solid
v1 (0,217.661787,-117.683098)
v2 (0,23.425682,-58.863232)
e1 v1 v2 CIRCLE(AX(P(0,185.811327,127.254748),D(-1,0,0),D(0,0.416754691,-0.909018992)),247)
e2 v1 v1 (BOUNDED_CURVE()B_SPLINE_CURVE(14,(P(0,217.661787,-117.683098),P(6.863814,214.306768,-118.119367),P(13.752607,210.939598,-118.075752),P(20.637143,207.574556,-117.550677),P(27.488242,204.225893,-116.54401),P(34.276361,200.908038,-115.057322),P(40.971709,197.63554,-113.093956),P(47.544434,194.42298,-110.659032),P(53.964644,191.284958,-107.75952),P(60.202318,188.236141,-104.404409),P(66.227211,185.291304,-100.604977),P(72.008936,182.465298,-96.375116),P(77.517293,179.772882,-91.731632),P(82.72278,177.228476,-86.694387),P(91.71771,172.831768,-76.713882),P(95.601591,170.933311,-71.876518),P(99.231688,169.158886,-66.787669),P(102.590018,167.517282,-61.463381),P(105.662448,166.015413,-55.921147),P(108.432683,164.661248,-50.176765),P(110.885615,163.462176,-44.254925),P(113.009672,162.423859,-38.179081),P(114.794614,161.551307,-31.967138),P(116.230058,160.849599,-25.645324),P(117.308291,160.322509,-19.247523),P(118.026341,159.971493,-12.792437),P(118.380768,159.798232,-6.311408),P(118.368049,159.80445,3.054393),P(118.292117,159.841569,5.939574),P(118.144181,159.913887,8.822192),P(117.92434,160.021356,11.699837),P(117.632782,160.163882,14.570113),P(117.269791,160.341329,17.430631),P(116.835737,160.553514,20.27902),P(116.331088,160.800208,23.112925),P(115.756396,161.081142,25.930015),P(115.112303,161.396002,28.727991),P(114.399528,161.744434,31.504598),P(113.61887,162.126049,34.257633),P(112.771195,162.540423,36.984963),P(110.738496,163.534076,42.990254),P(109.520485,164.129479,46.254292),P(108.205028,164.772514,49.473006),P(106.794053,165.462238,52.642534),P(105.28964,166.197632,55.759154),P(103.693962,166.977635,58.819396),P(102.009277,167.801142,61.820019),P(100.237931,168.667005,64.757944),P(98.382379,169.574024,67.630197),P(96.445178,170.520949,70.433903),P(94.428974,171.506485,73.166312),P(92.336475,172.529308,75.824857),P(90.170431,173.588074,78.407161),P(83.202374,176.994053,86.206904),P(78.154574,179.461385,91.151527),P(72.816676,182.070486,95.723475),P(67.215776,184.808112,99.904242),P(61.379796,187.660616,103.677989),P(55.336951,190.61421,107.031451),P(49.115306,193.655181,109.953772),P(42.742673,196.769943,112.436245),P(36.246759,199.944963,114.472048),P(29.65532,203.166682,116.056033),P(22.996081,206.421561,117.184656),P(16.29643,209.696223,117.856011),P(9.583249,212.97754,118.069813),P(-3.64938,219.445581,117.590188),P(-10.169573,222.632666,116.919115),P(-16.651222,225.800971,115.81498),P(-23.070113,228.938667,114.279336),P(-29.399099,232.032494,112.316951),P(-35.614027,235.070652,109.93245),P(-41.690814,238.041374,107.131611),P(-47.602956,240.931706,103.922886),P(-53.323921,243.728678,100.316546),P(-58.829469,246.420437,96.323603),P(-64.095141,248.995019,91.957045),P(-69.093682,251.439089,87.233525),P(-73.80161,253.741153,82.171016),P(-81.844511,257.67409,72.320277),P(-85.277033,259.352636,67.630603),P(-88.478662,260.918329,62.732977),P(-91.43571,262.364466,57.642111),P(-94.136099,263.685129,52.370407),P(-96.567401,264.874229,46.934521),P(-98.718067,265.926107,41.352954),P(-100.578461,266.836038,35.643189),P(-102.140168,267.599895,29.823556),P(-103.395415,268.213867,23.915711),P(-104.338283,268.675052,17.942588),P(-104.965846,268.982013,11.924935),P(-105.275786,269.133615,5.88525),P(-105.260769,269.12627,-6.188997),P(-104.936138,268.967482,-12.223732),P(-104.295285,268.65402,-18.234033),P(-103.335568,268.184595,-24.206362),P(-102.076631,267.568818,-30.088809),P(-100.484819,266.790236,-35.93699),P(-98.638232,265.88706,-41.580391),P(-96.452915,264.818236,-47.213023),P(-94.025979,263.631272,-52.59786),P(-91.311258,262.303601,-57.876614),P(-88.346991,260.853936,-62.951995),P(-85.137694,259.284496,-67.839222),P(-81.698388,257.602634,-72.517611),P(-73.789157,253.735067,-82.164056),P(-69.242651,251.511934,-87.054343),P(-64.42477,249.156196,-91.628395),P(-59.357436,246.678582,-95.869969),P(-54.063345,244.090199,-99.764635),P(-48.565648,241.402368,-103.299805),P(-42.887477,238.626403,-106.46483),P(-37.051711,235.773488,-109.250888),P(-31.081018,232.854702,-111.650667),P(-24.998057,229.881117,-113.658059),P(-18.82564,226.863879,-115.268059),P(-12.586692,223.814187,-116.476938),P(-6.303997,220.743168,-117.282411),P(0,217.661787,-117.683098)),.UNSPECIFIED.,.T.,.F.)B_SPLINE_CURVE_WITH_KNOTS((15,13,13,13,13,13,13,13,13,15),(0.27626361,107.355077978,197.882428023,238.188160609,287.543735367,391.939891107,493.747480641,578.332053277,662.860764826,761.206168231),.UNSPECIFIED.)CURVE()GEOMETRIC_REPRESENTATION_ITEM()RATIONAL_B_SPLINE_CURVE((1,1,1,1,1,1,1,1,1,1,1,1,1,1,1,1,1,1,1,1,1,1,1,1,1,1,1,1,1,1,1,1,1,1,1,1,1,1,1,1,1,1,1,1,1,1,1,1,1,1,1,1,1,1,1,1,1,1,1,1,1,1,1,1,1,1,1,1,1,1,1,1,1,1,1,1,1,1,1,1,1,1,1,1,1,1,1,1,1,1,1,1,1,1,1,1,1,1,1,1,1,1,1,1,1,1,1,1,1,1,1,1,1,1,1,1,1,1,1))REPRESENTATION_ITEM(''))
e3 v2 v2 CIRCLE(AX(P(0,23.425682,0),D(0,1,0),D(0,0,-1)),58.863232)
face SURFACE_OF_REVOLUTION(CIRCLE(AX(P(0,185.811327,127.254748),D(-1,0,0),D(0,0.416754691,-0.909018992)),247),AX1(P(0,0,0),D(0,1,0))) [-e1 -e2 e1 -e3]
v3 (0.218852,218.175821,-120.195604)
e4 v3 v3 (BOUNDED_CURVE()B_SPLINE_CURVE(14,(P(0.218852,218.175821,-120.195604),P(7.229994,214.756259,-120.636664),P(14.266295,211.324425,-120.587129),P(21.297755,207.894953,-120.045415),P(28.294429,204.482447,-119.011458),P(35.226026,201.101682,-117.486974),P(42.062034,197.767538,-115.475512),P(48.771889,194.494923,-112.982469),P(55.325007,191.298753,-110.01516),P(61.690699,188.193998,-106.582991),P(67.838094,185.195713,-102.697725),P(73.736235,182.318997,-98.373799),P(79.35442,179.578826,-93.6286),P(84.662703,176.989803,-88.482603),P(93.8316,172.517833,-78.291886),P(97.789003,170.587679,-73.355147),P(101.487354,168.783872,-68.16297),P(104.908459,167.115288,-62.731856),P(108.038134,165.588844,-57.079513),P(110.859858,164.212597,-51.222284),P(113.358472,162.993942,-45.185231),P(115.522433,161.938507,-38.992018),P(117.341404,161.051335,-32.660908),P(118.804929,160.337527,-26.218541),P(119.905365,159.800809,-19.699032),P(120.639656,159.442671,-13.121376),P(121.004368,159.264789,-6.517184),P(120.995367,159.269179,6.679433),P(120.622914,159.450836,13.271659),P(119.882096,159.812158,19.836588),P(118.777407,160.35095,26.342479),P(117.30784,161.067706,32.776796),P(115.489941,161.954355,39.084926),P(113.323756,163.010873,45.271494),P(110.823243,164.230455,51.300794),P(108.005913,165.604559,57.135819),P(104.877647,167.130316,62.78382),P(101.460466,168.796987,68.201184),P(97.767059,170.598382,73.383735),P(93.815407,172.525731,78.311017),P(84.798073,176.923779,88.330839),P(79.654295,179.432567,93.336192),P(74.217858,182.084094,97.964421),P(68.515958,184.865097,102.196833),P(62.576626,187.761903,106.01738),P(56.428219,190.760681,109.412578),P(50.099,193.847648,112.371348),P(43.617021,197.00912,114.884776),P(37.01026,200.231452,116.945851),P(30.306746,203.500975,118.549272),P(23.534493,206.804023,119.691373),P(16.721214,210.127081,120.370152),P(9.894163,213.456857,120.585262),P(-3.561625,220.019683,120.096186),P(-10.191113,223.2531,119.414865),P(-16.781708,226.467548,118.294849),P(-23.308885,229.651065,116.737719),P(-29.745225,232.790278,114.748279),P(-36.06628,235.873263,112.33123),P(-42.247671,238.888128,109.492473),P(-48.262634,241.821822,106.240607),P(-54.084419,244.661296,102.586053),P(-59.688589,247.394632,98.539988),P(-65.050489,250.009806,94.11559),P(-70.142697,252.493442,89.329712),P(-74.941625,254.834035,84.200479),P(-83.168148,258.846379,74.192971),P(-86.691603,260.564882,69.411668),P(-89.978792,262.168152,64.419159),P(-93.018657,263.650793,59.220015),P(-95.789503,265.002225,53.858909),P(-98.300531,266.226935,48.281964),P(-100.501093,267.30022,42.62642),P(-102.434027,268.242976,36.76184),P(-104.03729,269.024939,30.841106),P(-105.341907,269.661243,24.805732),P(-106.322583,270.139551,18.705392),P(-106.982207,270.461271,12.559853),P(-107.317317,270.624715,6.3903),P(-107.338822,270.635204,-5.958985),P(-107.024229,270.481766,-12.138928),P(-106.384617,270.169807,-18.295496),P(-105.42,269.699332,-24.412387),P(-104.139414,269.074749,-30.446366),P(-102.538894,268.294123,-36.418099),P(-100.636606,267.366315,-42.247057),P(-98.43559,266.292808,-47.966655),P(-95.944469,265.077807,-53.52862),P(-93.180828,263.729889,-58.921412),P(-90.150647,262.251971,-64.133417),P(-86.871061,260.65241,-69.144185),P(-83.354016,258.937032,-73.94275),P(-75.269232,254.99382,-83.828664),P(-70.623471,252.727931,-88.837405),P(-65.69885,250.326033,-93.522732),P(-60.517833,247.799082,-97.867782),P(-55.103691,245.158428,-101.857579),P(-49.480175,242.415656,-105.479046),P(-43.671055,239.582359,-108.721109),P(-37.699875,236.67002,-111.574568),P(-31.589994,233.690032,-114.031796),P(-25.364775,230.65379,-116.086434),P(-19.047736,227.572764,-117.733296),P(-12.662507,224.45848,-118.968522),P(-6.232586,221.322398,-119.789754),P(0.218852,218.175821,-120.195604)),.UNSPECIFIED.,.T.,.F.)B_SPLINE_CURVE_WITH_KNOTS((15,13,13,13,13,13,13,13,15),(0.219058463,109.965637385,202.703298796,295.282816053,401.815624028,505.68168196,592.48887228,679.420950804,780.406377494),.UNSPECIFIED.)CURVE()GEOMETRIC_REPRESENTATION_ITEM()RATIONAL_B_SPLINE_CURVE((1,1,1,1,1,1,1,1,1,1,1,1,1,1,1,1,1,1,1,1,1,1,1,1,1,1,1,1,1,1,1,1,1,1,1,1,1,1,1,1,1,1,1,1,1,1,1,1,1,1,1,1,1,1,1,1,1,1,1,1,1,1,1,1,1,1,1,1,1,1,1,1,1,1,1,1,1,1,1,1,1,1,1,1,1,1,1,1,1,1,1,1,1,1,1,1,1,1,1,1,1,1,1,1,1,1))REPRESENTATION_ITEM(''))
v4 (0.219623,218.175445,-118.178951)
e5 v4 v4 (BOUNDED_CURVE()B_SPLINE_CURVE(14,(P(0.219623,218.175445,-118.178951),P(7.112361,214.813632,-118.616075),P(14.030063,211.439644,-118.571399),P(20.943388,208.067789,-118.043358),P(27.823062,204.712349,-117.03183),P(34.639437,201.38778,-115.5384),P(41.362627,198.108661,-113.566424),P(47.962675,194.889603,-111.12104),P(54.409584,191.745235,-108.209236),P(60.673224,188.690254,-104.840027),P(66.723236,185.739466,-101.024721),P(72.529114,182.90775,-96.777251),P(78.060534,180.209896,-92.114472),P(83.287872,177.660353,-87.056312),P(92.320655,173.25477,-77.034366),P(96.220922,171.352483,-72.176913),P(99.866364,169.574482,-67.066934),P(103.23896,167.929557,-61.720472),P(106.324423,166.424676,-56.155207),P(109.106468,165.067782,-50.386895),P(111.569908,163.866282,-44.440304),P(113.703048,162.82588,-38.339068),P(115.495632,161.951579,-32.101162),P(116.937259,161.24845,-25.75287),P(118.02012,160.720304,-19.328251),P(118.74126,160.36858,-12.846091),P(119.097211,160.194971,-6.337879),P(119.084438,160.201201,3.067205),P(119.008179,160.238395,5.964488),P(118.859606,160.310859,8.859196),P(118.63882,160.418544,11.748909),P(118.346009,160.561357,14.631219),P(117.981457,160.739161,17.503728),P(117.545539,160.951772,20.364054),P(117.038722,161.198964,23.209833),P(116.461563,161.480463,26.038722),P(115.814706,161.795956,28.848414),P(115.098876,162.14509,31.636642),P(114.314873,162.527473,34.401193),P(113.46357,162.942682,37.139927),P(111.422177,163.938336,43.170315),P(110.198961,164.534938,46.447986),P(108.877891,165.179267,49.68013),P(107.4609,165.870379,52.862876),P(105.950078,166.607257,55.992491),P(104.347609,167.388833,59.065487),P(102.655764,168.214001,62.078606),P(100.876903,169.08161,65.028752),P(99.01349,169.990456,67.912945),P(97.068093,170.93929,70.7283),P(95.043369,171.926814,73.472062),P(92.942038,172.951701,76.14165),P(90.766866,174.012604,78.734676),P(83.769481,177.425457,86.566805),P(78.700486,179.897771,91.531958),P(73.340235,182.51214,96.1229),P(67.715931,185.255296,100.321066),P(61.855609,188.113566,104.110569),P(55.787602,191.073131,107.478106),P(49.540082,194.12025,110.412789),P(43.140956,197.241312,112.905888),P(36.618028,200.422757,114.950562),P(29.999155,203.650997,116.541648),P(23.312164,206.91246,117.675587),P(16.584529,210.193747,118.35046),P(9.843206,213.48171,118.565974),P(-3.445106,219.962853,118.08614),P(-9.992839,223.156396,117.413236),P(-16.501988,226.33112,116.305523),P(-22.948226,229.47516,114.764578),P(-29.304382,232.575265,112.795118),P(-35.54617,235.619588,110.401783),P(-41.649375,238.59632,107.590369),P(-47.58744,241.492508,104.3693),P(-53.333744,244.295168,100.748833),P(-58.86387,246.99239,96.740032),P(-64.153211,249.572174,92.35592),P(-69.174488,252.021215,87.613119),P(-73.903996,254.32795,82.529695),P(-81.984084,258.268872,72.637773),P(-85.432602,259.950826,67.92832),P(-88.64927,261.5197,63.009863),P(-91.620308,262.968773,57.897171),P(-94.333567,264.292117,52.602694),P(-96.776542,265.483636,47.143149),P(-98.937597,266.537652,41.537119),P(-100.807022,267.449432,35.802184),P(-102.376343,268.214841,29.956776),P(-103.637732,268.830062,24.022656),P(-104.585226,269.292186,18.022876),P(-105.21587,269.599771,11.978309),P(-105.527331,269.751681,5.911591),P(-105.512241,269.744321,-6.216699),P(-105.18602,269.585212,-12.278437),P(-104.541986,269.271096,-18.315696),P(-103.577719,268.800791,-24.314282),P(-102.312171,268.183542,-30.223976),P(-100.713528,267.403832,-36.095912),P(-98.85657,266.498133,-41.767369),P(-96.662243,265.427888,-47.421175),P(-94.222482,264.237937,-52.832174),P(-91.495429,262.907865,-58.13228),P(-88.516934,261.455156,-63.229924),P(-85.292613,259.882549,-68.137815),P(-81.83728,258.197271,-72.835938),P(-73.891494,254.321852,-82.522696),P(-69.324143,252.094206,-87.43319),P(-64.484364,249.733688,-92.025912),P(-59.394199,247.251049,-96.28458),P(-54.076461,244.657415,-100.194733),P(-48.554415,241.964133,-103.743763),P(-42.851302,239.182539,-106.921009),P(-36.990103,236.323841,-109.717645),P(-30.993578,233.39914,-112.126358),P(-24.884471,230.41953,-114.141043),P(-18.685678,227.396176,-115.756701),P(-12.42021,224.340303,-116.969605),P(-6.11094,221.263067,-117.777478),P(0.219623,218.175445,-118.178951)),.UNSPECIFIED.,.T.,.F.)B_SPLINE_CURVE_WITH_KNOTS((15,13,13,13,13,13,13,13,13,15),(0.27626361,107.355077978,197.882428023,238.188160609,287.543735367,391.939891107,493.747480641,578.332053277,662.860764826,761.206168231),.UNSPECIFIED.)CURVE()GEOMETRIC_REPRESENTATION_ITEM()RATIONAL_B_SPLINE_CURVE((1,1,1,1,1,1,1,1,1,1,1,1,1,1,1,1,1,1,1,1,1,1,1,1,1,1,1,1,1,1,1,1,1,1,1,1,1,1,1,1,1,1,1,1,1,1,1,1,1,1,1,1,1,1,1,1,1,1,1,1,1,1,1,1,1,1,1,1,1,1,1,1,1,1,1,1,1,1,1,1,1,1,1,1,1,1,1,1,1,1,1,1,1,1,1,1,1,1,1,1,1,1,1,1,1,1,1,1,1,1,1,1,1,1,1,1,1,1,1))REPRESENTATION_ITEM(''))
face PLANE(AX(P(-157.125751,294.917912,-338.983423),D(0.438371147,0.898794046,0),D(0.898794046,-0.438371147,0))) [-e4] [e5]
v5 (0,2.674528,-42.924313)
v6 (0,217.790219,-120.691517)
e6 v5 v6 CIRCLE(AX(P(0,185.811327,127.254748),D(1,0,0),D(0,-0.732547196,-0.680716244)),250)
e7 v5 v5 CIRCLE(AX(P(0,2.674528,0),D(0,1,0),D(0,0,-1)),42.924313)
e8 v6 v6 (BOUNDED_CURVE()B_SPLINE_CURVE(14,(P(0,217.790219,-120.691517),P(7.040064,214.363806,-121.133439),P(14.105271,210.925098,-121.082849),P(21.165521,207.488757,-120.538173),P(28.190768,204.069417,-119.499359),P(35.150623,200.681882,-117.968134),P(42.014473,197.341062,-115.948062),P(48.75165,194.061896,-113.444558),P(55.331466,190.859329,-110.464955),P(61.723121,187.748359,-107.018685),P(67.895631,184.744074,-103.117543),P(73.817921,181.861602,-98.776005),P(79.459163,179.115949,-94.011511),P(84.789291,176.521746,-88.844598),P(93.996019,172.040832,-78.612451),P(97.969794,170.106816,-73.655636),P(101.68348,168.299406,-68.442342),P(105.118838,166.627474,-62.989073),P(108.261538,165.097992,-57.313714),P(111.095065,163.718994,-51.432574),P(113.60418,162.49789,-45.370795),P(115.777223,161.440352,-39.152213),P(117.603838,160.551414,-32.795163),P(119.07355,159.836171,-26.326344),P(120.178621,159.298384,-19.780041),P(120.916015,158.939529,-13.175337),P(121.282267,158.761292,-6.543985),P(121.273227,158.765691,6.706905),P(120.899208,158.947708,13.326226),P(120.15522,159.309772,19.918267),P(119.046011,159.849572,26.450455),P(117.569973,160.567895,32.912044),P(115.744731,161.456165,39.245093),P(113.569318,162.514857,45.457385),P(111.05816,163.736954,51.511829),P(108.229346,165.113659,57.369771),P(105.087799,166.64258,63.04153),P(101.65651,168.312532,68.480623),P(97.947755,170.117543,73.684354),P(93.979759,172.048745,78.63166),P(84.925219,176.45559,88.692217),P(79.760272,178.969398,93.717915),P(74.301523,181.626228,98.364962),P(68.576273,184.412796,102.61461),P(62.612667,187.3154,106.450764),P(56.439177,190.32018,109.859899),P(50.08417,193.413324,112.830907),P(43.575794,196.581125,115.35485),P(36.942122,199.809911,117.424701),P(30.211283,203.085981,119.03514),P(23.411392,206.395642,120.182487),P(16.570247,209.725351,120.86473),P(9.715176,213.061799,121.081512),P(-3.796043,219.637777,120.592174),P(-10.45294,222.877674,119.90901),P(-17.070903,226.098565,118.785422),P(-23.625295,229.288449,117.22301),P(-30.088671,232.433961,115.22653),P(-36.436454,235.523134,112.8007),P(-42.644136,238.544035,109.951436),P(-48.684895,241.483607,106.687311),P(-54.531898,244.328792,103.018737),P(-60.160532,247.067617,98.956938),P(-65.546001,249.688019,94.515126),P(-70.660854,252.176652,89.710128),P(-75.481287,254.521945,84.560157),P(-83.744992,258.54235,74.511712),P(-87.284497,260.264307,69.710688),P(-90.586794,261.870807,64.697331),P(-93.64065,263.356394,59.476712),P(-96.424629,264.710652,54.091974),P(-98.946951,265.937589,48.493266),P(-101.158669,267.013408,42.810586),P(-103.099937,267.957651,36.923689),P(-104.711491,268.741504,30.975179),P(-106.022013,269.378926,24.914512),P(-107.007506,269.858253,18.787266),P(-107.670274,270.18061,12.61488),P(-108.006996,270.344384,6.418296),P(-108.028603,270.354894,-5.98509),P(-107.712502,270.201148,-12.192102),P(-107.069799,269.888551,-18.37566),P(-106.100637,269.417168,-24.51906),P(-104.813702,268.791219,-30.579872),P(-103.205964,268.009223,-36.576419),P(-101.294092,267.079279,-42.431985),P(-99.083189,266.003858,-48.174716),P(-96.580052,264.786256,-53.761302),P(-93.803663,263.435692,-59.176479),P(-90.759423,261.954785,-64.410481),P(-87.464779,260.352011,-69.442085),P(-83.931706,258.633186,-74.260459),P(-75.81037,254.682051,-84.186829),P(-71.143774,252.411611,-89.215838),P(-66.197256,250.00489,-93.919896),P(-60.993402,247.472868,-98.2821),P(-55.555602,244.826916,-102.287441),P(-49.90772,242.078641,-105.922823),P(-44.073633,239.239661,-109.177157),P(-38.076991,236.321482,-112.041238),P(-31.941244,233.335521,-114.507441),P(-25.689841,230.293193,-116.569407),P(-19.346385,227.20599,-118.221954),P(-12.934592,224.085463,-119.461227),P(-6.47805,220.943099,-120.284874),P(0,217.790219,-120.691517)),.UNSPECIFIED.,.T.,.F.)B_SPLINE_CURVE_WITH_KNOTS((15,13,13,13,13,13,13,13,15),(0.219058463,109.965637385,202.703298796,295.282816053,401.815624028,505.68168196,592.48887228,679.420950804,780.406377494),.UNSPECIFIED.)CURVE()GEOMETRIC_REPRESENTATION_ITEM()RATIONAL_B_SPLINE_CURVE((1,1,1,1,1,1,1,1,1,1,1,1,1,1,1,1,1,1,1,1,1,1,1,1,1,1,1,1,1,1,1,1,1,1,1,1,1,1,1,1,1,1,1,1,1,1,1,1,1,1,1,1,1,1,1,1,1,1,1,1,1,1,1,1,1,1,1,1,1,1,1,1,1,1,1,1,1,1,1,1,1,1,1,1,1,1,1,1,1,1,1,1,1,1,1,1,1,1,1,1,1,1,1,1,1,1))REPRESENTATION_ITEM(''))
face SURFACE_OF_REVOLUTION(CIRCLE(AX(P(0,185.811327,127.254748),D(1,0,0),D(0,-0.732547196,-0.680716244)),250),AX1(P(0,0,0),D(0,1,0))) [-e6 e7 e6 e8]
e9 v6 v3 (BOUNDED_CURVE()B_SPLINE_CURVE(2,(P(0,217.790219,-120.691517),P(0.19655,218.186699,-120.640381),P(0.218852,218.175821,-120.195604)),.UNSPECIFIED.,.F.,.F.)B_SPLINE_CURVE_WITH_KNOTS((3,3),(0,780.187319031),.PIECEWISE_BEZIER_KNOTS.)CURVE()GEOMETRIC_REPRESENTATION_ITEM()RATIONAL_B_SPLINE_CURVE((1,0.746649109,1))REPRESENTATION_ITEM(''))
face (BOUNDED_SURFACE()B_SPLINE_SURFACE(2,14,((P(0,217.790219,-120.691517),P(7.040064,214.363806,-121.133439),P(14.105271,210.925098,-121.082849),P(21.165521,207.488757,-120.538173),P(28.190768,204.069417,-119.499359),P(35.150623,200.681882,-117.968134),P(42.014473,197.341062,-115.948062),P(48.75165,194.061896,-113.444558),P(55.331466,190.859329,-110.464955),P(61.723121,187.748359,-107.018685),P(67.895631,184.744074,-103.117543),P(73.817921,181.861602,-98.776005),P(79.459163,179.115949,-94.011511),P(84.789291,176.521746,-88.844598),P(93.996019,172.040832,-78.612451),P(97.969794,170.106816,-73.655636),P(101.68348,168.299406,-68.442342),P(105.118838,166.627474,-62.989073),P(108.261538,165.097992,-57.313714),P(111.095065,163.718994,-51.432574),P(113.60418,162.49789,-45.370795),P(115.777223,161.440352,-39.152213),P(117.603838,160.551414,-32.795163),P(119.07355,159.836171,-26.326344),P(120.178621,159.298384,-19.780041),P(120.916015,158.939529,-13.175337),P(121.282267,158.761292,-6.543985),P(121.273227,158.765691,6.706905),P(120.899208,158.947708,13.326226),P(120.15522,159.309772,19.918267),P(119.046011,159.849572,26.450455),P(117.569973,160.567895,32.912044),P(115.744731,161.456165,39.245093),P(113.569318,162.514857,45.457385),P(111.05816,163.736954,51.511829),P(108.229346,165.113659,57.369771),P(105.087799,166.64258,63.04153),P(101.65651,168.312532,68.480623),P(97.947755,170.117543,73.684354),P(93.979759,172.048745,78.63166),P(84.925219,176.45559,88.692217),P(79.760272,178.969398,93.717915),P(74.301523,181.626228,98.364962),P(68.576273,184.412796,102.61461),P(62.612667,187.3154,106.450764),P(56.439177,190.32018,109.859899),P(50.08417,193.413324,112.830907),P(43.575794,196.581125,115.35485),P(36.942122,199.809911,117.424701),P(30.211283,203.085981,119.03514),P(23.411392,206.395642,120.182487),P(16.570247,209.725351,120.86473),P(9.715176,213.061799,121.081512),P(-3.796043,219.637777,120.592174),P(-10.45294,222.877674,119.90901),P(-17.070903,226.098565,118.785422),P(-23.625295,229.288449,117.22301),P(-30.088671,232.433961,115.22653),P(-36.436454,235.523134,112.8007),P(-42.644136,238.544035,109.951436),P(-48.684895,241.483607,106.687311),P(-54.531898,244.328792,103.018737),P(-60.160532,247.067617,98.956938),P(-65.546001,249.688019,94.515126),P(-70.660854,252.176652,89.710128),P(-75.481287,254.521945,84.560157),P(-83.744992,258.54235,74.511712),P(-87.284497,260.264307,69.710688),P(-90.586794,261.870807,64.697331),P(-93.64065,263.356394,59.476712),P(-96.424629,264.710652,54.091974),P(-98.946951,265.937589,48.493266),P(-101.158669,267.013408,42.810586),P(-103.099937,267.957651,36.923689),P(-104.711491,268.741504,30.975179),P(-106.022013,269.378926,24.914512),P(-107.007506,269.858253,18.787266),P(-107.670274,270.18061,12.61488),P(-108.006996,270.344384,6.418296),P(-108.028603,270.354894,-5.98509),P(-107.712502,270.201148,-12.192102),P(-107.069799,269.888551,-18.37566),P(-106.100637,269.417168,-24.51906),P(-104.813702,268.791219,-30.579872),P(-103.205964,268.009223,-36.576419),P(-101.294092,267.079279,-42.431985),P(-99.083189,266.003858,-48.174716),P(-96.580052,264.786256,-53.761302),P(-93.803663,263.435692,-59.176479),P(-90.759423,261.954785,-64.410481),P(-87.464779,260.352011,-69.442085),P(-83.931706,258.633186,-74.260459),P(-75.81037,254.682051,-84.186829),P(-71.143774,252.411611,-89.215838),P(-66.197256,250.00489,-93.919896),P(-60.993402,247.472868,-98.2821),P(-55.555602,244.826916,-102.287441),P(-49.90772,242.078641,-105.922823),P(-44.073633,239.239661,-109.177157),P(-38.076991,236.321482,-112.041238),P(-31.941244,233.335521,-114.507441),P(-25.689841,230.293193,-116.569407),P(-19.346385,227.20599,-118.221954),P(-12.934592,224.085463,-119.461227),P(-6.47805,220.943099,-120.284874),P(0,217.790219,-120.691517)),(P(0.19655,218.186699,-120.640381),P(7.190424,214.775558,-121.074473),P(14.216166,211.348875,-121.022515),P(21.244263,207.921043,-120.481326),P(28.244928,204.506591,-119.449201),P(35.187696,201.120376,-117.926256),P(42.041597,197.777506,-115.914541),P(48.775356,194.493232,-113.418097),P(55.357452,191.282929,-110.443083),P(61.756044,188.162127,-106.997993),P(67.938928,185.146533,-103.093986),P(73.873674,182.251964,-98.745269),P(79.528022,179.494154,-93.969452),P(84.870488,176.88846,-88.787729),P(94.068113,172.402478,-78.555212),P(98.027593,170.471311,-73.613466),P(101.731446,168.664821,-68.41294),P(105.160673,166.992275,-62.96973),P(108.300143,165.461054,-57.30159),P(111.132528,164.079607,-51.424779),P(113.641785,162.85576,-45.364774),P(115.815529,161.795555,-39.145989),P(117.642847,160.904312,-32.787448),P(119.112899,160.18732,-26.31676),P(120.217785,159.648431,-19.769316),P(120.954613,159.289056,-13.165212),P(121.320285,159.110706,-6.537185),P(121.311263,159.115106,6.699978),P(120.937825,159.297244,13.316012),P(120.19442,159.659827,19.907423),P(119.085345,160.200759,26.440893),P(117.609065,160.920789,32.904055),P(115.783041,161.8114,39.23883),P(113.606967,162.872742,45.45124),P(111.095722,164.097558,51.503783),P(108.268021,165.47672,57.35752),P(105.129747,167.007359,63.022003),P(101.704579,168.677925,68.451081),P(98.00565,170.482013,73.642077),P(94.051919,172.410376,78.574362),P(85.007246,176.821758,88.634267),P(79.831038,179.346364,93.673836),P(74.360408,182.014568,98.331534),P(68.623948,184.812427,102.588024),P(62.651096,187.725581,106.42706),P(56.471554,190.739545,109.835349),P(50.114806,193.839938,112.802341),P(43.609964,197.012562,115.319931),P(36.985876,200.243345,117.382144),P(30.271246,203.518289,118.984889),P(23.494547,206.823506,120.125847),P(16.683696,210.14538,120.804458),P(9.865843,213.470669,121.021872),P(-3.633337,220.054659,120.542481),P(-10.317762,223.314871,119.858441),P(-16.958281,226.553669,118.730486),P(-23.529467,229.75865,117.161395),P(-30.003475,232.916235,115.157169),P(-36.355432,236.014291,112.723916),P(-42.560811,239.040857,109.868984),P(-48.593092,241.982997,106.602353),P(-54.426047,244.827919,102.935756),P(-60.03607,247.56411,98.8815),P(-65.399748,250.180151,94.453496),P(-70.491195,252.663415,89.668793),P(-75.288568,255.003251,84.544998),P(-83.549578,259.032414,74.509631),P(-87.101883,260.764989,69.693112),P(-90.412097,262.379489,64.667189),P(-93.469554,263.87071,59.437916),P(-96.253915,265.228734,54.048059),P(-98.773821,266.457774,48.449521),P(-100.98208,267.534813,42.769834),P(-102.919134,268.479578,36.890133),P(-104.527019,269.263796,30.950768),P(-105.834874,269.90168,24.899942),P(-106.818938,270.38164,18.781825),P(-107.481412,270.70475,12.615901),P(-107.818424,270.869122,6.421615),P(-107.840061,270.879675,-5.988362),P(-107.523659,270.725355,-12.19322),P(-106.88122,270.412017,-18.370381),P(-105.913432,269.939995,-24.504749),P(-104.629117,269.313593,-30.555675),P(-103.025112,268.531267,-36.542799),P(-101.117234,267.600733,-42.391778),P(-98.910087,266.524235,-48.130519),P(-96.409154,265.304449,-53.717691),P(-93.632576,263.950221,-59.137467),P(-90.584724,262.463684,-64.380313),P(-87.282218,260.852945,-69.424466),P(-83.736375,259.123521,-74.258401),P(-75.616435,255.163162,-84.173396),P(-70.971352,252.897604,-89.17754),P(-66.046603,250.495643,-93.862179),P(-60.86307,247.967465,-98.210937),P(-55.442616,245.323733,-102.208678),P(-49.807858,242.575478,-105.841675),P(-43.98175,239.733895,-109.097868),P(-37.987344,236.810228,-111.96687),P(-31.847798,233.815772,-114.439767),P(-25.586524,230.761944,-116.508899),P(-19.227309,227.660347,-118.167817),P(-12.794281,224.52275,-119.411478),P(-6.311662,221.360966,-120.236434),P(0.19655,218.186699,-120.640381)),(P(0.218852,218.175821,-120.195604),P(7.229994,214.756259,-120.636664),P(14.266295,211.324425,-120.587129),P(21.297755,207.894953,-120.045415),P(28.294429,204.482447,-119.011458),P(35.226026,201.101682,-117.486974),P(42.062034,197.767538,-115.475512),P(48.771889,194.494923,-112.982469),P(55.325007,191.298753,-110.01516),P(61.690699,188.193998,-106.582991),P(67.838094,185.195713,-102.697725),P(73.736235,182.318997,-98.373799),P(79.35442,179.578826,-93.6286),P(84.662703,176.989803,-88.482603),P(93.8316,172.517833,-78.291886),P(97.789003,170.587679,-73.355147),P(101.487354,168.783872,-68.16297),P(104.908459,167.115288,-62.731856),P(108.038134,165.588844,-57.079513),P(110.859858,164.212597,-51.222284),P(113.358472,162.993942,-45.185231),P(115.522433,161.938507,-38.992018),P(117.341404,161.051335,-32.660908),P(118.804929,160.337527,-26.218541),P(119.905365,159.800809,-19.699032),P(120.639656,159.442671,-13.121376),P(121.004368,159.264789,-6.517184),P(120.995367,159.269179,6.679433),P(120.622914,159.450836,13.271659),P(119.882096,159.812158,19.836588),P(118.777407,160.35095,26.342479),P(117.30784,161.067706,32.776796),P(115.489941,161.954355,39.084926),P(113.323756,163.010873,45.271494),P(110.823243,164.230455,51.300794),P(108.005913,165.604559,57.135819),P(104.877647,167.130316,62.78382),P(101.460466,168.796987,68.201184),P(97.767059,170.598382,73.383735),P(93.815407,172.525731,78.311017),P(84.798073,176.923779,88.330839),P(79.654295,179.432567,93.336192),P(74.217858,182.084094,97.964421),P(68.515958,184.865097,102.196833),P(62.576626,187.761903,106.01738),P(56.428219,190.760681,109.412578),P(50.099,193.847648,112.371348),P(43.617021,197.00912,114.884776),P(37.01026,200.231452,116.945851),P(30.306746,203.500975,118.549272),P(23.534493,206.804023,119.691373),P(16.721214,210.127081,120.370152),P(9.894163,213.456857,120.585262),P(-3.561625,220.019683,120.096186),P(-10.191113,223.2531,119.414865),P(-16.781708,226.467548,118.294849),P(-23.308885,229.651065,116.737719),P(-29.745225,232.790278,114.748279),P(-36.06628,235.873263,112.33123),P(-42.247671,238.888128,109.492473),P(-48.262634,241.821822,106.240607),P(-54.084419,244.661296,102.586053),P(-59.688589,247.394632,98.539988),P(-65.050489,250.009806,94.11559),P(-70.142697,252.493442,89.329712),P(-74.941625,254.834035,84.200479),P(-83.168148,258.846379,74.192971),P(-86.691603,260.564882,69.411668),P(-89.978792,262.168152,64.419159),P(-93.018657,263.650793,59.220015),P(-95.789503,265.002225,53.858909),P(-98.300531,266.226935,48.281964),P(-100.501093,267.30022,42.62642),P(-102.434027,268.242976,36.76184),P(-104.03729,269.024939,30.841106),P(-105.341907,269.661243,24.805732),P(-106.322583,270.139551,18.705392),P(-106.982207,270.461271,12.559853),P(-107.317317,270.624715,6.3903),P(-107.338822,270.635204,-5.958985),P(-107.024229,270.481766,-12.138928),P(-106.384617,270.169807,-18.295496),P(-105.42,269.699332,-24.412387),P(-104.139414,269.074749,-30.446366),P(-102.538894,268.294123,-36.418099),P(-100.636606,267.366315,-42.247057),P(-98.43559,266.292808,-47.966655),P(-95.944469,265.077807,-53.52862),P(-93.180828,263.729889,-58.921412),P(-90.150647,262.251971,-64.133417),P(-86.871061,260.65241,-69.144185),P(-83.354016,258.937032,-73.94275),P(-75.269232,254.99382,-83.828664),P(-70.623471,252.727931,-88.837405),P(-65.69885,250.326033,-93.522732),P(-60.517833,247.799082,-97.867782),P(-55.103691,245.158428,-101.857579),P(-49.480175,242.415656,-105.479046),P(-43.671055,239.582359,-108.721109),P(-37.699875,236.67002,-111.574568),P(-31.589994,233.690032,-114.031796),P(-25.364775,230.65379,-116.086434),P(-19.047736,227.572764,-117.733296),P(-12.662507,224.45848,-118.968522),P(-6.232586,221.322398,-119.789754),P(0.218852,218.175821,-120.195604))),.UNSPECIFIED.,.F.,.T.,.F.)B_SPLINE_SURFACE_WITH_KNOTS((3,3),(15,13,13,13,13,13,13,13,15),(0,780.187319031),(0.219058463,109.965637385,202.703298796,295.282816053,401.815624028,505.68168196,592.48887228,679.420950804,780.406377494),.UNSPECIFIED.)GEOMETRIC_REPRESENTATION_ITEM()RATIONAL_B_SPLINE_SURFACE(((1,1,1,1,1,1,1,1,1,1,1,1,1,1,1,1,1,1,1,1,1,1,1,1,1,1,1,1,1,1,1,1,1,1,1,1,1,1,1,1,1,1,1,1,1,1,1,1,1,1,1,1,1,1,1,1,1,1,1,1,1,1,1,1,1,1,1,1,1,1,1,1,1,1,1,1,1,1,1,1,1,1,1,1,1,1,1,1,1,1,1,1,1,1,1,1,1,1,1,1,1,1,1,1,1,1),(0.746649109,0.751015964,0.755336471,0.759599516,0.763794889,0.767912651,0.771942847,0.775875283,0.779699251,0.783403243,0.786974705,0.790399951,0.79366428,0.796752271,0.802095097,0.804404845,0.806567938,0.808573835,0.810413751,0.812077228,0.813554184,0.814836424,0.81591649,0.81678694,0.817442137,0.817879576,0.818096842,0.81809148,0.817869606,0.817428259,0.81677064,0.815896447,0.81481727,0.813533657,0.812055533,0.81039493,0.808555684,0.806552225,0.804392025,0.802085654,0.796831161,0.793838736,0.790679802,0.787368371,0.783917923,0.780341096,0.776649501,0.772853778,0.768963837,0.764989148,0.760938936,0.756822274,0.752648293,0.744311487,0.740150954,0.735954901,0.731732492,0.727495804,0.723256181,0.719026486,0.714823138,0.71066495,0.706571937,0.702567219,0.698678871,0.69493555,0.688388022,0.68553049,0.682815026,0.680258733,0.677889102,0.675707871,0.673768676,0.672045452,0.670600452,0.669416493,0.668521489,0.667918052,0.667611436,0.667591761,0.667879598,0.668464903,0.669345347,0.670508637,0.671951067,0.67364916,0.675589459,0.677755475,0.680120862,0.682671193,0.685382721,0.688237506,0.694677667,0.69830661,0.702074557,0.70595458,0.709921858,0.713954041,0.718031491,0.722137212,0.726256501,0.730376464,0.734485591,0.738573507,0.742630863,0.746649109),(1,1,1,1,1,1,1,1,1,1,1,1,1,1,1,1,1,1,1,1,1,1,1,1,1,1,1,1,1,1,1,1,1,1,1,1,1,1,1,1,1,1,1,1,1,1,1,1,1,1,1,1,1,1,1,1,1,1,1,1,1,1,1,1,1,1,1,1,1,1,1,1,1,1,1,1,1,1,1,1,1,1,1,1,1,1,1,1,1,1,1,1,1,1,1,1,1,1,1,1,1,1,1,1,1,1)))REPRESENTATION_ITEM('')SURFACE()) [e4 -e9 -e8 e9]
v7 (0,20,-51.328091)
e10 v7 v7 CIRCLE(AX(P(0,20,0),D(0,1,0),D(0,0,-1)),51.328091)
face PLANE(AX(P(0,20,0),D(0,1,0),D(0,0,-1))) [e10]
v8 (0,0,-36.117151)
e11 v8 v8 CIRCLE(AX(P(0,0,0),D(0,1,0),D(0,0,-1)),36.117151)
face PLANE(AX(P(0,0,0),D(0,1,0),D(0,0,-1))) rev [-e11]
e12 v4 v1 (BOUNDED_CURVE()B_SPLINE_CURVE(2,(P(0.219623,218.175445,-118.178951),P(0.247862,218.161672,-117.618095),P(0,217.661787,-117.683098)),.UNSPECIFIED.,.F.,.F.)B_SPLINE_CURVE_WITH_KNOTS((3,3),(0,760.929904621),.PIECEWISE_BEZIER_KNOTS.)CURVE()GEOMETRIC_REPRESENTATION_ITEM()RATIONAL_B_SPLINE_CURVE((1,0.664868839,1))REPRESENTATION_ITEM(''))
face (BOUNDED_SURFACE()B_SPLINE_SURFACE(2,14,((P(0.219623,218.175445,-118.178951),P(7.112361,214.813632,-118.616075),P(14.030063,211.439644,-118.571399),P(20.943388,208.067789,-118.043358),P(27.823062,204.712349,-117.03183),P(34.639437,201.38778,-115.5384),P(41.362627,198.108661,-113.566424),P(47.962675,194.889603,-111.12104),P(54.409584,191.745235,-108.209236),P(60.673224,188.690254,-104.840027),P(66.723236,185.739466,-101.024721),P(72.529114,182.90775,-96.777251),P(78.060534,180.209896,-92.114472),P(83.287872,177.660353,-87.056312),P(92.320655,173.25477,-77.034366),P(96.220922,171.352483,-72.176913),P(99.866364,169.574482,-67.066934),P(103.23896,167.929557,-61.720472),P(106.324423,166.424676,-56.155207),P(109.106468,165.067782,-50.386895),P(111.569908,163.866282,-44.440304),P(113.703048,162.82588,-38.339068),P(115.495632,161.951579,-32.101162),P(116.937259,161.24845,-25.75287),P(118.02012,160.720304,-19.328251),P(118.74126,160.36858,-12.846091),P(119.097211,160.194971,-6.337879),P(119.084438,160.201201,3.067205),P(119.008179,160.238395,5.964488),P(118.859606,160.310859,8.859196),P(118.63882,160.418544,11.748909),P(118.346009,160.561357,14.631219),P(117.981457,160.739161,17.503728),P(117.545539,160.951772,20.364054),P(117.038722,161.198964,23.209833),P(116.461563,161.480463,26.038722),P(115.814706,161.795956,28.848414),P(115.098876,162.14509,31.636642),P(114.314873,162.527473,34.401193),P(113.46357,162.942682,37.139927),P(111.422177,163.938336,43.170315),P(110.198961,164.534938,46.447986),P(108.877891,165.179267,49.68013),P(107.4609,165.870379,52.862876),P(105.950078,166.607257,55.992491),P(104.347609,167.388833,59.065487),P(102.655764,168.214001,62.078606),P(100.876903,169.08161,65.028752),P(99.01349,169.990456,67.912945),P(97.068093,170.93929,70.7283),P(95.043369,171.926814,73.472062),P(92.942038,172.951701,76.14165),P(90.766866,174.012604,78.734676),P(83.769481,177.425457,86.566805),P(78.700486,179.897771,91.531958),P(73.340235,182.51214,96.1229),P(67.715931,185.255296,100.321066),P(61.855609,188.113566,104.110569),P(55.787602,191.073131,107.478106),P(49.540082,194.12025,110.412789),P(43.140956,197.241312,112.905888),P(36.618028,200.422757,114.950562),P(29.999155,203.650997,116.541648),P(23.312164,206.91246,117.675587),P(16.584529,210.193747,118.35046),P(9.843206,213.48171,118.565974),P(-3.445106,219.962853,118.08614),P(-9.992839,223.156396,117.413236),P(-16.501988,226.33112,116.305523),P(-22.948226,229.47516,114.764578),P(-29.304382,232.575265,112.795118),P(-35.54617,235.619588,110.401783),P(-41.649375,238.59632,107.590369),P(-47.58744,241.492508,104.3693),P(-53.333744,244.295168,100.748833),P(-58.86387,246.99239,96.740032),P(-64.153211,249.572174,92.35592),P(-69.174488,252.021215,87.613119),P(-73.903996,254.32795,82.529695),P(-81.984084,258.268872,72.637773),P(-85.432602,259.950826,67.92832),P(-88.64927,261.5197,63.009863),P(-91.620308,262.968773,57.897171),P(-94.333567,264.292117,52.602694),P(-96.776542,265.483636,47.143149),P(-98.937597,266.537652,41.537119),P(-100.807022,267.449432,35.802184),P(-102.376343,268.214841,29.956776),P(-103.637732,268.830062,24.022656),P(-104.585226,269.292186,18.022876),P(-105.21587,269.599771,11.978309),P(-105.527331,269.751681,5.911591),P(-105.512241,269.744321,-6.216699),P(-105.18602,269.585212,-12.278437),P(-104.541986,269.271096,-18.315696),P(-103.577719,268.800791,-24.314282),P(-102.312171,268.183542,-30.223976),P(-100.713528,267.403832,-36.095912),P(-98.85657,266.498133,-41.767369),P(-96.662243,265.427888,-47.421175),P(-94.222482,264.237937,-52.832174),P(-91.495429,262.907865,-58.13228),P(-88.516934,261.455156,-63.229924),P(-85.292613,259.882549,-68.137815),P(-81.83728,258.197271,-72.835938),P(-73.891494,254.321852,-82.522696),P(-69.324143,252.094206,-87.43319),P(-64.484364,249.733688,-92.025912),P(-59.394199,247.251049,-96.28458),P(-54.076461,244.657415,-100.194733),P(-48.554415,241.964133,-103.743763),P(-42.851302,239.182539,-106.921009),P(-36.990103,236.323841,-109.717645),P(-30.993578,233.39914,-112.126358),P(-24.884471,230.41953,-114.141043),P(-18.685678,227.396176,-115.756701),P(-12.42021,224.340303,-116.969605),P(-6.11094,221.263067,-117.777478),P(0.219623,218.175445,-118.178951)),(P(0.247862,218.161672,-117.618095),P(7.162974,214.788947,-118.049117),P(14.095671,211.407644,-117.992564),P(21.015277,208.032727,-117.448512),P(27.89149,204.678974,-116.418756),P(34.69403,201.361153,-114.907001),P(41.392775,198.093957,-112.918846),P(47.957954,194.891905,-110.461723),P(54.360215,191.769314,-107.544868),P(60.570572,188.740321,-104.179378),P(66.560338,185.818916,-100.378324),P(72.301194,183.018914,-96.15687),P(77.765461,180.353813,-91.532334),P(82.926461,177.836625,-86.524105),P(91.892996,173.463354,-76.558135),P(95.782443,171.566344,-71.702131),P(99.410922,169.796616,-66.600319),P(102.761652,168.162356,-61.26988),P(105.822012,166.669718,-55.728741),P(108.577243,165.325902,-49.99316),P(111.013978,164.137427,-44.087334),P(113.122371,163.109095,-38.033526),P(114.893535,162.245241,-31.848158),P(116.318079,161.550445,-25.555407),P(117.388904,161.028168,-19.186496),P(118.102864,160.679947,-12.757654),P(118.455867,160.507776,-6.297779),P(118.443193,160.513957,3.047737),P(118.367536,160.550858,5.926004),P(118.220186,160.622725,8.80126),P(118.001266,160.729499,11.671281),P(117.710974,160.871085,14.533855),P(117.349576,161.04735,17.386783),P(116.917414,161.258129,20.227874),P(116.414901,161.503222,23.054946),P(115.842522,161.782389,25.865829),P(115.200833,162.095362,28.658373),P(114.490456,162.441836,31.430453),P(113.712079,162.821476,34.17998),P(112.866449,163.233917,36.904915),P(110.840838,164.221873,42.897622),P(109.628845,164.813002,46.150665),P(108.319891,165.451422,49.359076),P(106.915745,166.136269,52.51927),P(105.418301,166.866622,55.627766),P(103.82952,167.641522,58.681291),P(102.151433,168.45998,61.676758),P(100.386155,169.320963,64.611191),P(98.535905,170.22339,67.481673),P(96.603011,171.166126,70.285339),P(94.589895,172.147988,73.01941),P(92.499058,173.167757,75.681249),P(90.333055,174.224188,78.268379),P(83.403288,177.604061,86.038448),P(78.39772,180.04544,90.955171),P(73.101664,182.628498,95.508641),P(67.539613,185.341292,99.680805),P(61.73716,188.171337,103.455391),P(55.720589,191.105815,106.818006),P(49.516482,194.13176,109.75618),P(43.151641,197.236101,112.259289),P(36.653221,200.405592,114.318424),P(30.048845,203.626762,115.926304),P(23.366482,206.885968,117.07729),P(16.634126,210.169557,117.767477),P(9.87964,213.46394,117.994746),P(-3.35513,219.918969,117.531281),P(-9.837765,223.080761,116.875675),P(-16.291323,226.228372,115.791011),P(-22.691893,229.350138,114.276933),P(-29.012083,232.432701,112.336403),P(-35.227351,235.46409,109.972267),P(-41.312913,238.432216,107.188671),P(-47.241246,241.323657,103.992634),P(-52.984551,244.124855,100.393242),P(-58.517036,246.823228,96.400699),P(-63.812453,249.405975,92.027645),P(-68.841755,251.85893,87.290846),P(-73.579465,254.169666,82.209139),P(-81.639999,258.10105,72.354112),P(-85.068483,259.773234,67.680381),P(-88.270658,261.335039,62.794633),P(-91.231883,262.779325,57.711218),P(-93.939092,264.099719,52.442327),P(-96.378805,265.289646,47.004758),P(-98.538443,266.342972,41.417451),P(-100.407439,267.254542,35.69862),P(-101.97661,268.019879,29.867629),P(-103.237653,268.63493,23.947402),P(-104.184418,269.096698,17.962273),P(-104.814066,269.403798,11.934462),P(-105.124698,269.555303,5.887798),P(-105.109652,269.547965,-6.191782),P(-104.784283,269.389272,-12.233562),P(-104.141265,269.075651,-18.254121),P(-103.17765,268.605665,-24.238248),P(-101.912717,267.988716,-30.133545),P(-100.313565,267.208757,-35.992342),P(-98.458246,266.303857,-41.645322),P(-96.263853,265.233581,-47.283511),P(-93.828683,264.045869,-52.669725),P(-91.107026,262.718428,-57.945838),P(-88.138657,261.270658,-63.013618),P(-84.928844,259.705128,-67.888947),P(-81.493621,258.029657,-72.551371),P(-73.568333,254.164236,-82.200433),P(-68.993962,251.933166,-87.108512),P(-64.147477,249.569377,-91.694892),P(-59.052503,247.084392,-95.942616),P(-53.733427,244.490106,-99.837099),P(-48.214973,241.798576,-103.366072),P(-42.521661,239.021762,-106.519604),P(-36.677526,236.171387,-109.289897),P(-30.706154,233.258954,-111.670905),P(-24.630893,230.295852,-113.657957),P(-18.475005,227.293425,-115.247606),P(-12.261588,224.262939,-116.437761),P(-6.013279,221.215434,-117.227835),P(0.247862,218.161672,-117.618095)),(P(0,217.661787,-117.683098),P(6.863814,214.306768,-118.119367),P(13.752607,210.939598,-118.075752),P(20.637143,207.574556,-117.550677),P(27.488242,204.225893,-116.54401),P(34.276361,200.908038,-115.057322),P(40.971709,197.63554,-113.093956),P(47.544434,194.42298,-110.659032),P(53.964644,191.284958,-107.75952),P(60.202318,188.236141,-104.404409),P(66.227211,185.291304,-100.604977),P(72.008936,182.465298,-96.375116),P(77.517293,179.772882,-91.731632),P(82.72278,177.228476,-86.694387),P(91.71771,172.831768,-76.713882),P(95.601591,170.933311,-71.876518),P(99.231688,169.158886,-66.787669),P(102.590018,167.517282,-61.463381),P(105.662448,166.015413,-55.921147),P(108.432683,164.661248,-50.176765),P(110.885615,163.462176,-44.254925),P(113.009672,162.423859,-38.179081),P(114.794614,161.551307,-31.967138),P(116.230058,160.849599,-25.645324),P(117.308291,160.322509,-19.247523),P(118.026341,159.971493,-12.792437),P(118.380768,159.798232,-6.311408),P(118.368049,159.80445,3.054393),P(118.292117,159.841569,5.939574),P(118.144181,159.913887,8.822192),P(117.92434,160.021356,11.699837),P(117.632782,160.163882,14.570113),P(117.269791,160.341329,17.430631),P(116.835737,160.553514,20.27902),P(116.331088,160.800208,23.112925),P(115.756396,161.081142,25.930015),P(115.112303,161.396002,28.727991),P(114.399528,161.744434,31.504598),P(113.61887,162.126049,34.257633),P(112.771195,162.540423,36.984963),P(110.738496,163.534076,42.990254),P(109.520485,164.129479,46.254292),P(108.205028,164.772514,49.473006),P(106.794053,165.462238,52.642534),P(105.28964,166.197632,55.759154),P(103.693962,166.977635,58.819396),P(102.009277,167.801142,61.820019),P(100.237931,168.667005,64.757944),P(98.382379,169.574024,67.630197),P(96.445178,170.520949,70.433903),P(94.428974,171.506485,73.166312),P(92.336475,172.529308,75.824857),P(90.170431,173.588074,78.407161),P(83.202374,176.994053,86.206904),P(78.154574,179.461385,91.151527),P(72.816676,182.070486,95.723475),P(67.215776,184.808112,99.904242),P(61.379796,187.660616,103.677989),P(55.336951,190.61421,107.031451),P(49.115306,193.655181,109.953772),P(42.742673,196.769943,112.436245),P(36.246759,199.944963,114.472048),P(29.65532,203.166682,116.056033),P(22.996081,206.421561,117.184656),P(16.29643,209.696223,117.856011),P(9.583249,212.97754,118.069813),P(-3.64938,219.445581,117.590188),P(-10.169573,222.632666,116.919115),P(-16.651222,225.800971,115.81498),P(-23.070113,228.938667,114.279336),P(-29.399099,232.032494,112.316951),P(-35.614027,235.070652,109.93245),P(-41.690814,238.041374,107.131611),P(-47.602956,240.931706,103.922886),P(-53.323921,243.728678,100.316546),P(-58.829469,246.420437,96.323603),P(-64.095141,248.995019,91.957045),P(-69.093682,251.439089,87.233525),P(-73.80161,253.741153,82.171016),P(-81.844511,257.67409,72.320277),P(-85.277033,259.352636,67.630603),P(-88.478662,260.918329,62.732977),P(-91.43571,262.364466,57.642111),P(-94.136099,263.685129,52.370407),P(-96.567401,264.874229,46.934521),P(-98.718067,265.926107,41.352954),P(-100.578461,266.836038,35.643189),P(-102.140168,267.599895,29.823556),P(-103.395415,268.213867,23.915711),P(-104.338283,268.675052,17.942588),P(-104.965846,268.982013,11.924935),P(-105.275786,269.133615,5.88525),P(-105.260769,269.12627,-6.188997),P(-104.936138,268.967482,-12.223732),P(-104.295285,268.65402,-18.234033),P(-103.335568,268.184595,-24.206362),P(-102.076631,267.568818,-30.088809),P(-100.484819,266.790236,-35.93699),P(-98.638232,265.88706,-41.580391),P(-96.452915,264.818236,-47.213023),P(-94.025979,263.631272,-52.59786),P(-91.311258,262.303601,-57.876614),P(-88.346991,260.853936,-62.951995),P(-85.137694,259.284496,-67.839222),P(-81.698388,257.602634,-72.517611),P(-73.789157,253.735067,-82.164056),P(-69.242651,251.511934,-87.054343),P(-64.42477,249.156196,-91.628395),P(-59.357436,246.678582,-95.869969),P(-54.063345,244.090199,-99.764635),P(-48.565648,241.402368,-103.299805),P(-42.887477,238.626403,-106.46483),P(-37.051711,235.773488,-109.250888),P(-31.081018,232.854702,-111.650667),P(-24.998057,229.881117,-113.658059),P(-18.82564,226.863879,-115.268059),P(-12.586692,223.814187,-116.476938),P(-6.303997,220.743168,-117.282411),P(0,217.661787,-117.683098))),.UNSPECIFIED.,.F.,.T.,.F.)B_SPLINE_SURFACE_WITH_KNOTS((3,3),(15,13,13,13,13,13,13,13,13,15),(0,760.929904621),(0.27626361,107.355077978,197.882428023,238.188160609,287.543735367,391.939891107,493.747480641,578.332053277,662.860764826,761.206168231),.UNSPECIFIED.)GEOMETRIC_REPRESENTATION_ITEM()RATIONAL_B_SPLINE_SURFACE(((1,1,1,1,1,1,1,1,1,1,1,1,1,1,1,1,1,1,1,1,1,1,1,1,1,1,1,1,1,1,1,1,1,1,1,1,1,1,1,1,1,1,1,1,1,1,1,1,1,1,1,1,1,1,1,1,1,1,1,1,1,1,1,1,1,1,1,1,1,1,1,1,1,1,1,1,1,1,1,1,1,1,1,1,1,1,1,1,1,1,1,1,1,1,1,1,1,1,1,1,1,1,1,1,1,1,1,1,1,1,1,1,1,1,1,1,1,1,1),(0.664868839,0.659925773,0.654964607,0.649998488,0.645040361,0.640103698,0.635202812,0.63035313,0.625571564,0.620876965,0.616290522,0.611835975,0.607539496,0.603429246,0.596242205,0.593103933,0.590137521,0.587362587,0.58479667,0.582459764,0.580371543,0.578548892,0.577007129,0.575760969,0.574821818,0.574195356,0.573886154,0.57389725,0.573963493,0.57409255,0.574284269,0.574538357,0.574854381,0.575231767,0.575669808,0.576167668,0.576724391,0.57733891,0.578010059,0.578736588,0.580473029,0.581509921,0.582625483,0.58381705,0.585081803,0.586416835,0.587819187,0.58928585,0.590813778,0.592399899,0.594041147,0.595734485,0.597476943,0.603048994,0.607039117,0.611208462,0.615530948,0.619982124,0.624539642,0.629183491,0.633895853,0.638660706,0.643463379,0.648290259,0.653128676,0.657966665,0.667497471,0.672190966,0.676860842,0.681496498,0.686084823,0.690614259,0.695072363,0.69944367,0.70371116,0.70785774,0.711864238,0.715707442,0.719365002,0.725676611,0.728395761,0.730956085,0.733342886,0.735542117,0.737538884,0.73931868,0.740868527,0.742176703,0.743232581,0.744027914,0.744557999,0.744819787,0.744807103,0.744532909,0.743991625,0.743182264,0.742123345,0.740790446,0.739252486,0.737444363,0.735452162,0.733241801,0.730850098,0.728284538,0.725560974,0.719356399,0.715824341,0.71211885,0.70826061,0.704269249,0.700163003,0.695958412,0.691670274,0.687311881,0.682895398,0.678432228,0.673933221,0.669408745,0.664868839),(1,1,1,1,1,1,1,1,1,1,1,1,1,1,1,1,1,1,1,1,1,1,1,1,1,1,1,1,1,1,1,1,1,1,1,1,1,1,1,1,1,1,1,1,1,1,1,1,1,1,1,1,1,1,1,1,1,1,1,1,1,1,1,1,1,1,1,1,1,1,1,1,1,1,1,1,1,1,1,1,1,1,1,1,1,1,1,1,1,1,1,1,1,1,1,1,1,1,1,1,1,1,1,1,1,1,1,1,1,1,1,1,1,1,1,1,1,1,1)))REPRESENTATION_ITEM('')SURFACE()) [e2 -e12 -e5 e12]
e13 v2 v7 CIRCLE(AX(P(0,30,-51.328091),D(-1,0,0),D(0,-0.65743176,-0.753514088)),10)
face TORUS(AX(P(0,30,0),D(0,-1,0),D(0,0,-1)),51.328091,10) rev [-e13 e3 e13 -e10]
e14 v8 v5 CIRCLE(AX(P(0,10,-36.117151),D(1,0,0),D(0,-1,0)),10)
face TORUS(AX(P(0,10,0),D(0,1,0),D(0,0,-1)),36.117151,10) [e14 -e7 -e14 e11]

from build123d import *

# Parameters (mm, degrees)
CUT_EXTRUDE1_DEPTH      = 338.983422559
CUT_EXTRUDE1_DEPTH_BACK = 338.983422559
FILLET1_R               = 0.5


with BuildPart() as part:
    # Sketch1 → Revolve1 (revolve)
    with BuildSketch(Plane.XY, mode=Mode.PRIVATE) as revolve1_sk:
        with BuildLine():
            Line((0, 0), (36.117150658, 0))
            ThreePointArc((36.117150658, 0), (39.774012725, 0.692617993), (42.924313098, 2.674528035))
            ThreePointArc((42.924313098, 2.674528035), (117.954121887, 137.101880747), (100, 290))
            Line((100, 290), (97.272943025, 288.749735926))
            ThreePointArc((97.272943025, 288.749735926), (117.197047033, 150.42319432), (58.863231808, 23.425682399))
            ThreePointArc((58.863231808, 23.425682399), (55.466739499, 20.896616672), (51.328090928, 20))
            Line((51.328090928, 20), (0, 20))
            Line((0, 20), (0, 0))
        make_face()
    revolve(revolve1_sk.sketch.rotate(Axis((0, 0, 0), (0, 1, 0)), 90), axis=Axis((0, 0, 0), (0, 1, 0)))

    # Sketch2 → Cut-Extrude1 (cut, two sides: drawn at the far end of the back side and taken through both)
    with BuildSketch(Plane.XY.offset(-CUT_EXTRUDE1_DEPTH_BACK)):
        Polygon((-157.125751205, 294.917911765), (140, 150), (140, 294.917911765), align=None)
    extrude(amount=CUT_EXTRUDE1_DEPTH + CUT_EXTRUDE1_DEPTH_BACK, mode=Mode.SUBTRACT)

    # Fillet1
    fillet1_edges = [part.edges().sort_by_distance(p)[0] for p in [
        (13.600811506, 211.649003397, 120.642261754),
        (13.44215441, 211.726385633, 117.616348156),
    ]]
    fillet(fillet1_edges, radius=FILLET1_R)


solid = part.part
